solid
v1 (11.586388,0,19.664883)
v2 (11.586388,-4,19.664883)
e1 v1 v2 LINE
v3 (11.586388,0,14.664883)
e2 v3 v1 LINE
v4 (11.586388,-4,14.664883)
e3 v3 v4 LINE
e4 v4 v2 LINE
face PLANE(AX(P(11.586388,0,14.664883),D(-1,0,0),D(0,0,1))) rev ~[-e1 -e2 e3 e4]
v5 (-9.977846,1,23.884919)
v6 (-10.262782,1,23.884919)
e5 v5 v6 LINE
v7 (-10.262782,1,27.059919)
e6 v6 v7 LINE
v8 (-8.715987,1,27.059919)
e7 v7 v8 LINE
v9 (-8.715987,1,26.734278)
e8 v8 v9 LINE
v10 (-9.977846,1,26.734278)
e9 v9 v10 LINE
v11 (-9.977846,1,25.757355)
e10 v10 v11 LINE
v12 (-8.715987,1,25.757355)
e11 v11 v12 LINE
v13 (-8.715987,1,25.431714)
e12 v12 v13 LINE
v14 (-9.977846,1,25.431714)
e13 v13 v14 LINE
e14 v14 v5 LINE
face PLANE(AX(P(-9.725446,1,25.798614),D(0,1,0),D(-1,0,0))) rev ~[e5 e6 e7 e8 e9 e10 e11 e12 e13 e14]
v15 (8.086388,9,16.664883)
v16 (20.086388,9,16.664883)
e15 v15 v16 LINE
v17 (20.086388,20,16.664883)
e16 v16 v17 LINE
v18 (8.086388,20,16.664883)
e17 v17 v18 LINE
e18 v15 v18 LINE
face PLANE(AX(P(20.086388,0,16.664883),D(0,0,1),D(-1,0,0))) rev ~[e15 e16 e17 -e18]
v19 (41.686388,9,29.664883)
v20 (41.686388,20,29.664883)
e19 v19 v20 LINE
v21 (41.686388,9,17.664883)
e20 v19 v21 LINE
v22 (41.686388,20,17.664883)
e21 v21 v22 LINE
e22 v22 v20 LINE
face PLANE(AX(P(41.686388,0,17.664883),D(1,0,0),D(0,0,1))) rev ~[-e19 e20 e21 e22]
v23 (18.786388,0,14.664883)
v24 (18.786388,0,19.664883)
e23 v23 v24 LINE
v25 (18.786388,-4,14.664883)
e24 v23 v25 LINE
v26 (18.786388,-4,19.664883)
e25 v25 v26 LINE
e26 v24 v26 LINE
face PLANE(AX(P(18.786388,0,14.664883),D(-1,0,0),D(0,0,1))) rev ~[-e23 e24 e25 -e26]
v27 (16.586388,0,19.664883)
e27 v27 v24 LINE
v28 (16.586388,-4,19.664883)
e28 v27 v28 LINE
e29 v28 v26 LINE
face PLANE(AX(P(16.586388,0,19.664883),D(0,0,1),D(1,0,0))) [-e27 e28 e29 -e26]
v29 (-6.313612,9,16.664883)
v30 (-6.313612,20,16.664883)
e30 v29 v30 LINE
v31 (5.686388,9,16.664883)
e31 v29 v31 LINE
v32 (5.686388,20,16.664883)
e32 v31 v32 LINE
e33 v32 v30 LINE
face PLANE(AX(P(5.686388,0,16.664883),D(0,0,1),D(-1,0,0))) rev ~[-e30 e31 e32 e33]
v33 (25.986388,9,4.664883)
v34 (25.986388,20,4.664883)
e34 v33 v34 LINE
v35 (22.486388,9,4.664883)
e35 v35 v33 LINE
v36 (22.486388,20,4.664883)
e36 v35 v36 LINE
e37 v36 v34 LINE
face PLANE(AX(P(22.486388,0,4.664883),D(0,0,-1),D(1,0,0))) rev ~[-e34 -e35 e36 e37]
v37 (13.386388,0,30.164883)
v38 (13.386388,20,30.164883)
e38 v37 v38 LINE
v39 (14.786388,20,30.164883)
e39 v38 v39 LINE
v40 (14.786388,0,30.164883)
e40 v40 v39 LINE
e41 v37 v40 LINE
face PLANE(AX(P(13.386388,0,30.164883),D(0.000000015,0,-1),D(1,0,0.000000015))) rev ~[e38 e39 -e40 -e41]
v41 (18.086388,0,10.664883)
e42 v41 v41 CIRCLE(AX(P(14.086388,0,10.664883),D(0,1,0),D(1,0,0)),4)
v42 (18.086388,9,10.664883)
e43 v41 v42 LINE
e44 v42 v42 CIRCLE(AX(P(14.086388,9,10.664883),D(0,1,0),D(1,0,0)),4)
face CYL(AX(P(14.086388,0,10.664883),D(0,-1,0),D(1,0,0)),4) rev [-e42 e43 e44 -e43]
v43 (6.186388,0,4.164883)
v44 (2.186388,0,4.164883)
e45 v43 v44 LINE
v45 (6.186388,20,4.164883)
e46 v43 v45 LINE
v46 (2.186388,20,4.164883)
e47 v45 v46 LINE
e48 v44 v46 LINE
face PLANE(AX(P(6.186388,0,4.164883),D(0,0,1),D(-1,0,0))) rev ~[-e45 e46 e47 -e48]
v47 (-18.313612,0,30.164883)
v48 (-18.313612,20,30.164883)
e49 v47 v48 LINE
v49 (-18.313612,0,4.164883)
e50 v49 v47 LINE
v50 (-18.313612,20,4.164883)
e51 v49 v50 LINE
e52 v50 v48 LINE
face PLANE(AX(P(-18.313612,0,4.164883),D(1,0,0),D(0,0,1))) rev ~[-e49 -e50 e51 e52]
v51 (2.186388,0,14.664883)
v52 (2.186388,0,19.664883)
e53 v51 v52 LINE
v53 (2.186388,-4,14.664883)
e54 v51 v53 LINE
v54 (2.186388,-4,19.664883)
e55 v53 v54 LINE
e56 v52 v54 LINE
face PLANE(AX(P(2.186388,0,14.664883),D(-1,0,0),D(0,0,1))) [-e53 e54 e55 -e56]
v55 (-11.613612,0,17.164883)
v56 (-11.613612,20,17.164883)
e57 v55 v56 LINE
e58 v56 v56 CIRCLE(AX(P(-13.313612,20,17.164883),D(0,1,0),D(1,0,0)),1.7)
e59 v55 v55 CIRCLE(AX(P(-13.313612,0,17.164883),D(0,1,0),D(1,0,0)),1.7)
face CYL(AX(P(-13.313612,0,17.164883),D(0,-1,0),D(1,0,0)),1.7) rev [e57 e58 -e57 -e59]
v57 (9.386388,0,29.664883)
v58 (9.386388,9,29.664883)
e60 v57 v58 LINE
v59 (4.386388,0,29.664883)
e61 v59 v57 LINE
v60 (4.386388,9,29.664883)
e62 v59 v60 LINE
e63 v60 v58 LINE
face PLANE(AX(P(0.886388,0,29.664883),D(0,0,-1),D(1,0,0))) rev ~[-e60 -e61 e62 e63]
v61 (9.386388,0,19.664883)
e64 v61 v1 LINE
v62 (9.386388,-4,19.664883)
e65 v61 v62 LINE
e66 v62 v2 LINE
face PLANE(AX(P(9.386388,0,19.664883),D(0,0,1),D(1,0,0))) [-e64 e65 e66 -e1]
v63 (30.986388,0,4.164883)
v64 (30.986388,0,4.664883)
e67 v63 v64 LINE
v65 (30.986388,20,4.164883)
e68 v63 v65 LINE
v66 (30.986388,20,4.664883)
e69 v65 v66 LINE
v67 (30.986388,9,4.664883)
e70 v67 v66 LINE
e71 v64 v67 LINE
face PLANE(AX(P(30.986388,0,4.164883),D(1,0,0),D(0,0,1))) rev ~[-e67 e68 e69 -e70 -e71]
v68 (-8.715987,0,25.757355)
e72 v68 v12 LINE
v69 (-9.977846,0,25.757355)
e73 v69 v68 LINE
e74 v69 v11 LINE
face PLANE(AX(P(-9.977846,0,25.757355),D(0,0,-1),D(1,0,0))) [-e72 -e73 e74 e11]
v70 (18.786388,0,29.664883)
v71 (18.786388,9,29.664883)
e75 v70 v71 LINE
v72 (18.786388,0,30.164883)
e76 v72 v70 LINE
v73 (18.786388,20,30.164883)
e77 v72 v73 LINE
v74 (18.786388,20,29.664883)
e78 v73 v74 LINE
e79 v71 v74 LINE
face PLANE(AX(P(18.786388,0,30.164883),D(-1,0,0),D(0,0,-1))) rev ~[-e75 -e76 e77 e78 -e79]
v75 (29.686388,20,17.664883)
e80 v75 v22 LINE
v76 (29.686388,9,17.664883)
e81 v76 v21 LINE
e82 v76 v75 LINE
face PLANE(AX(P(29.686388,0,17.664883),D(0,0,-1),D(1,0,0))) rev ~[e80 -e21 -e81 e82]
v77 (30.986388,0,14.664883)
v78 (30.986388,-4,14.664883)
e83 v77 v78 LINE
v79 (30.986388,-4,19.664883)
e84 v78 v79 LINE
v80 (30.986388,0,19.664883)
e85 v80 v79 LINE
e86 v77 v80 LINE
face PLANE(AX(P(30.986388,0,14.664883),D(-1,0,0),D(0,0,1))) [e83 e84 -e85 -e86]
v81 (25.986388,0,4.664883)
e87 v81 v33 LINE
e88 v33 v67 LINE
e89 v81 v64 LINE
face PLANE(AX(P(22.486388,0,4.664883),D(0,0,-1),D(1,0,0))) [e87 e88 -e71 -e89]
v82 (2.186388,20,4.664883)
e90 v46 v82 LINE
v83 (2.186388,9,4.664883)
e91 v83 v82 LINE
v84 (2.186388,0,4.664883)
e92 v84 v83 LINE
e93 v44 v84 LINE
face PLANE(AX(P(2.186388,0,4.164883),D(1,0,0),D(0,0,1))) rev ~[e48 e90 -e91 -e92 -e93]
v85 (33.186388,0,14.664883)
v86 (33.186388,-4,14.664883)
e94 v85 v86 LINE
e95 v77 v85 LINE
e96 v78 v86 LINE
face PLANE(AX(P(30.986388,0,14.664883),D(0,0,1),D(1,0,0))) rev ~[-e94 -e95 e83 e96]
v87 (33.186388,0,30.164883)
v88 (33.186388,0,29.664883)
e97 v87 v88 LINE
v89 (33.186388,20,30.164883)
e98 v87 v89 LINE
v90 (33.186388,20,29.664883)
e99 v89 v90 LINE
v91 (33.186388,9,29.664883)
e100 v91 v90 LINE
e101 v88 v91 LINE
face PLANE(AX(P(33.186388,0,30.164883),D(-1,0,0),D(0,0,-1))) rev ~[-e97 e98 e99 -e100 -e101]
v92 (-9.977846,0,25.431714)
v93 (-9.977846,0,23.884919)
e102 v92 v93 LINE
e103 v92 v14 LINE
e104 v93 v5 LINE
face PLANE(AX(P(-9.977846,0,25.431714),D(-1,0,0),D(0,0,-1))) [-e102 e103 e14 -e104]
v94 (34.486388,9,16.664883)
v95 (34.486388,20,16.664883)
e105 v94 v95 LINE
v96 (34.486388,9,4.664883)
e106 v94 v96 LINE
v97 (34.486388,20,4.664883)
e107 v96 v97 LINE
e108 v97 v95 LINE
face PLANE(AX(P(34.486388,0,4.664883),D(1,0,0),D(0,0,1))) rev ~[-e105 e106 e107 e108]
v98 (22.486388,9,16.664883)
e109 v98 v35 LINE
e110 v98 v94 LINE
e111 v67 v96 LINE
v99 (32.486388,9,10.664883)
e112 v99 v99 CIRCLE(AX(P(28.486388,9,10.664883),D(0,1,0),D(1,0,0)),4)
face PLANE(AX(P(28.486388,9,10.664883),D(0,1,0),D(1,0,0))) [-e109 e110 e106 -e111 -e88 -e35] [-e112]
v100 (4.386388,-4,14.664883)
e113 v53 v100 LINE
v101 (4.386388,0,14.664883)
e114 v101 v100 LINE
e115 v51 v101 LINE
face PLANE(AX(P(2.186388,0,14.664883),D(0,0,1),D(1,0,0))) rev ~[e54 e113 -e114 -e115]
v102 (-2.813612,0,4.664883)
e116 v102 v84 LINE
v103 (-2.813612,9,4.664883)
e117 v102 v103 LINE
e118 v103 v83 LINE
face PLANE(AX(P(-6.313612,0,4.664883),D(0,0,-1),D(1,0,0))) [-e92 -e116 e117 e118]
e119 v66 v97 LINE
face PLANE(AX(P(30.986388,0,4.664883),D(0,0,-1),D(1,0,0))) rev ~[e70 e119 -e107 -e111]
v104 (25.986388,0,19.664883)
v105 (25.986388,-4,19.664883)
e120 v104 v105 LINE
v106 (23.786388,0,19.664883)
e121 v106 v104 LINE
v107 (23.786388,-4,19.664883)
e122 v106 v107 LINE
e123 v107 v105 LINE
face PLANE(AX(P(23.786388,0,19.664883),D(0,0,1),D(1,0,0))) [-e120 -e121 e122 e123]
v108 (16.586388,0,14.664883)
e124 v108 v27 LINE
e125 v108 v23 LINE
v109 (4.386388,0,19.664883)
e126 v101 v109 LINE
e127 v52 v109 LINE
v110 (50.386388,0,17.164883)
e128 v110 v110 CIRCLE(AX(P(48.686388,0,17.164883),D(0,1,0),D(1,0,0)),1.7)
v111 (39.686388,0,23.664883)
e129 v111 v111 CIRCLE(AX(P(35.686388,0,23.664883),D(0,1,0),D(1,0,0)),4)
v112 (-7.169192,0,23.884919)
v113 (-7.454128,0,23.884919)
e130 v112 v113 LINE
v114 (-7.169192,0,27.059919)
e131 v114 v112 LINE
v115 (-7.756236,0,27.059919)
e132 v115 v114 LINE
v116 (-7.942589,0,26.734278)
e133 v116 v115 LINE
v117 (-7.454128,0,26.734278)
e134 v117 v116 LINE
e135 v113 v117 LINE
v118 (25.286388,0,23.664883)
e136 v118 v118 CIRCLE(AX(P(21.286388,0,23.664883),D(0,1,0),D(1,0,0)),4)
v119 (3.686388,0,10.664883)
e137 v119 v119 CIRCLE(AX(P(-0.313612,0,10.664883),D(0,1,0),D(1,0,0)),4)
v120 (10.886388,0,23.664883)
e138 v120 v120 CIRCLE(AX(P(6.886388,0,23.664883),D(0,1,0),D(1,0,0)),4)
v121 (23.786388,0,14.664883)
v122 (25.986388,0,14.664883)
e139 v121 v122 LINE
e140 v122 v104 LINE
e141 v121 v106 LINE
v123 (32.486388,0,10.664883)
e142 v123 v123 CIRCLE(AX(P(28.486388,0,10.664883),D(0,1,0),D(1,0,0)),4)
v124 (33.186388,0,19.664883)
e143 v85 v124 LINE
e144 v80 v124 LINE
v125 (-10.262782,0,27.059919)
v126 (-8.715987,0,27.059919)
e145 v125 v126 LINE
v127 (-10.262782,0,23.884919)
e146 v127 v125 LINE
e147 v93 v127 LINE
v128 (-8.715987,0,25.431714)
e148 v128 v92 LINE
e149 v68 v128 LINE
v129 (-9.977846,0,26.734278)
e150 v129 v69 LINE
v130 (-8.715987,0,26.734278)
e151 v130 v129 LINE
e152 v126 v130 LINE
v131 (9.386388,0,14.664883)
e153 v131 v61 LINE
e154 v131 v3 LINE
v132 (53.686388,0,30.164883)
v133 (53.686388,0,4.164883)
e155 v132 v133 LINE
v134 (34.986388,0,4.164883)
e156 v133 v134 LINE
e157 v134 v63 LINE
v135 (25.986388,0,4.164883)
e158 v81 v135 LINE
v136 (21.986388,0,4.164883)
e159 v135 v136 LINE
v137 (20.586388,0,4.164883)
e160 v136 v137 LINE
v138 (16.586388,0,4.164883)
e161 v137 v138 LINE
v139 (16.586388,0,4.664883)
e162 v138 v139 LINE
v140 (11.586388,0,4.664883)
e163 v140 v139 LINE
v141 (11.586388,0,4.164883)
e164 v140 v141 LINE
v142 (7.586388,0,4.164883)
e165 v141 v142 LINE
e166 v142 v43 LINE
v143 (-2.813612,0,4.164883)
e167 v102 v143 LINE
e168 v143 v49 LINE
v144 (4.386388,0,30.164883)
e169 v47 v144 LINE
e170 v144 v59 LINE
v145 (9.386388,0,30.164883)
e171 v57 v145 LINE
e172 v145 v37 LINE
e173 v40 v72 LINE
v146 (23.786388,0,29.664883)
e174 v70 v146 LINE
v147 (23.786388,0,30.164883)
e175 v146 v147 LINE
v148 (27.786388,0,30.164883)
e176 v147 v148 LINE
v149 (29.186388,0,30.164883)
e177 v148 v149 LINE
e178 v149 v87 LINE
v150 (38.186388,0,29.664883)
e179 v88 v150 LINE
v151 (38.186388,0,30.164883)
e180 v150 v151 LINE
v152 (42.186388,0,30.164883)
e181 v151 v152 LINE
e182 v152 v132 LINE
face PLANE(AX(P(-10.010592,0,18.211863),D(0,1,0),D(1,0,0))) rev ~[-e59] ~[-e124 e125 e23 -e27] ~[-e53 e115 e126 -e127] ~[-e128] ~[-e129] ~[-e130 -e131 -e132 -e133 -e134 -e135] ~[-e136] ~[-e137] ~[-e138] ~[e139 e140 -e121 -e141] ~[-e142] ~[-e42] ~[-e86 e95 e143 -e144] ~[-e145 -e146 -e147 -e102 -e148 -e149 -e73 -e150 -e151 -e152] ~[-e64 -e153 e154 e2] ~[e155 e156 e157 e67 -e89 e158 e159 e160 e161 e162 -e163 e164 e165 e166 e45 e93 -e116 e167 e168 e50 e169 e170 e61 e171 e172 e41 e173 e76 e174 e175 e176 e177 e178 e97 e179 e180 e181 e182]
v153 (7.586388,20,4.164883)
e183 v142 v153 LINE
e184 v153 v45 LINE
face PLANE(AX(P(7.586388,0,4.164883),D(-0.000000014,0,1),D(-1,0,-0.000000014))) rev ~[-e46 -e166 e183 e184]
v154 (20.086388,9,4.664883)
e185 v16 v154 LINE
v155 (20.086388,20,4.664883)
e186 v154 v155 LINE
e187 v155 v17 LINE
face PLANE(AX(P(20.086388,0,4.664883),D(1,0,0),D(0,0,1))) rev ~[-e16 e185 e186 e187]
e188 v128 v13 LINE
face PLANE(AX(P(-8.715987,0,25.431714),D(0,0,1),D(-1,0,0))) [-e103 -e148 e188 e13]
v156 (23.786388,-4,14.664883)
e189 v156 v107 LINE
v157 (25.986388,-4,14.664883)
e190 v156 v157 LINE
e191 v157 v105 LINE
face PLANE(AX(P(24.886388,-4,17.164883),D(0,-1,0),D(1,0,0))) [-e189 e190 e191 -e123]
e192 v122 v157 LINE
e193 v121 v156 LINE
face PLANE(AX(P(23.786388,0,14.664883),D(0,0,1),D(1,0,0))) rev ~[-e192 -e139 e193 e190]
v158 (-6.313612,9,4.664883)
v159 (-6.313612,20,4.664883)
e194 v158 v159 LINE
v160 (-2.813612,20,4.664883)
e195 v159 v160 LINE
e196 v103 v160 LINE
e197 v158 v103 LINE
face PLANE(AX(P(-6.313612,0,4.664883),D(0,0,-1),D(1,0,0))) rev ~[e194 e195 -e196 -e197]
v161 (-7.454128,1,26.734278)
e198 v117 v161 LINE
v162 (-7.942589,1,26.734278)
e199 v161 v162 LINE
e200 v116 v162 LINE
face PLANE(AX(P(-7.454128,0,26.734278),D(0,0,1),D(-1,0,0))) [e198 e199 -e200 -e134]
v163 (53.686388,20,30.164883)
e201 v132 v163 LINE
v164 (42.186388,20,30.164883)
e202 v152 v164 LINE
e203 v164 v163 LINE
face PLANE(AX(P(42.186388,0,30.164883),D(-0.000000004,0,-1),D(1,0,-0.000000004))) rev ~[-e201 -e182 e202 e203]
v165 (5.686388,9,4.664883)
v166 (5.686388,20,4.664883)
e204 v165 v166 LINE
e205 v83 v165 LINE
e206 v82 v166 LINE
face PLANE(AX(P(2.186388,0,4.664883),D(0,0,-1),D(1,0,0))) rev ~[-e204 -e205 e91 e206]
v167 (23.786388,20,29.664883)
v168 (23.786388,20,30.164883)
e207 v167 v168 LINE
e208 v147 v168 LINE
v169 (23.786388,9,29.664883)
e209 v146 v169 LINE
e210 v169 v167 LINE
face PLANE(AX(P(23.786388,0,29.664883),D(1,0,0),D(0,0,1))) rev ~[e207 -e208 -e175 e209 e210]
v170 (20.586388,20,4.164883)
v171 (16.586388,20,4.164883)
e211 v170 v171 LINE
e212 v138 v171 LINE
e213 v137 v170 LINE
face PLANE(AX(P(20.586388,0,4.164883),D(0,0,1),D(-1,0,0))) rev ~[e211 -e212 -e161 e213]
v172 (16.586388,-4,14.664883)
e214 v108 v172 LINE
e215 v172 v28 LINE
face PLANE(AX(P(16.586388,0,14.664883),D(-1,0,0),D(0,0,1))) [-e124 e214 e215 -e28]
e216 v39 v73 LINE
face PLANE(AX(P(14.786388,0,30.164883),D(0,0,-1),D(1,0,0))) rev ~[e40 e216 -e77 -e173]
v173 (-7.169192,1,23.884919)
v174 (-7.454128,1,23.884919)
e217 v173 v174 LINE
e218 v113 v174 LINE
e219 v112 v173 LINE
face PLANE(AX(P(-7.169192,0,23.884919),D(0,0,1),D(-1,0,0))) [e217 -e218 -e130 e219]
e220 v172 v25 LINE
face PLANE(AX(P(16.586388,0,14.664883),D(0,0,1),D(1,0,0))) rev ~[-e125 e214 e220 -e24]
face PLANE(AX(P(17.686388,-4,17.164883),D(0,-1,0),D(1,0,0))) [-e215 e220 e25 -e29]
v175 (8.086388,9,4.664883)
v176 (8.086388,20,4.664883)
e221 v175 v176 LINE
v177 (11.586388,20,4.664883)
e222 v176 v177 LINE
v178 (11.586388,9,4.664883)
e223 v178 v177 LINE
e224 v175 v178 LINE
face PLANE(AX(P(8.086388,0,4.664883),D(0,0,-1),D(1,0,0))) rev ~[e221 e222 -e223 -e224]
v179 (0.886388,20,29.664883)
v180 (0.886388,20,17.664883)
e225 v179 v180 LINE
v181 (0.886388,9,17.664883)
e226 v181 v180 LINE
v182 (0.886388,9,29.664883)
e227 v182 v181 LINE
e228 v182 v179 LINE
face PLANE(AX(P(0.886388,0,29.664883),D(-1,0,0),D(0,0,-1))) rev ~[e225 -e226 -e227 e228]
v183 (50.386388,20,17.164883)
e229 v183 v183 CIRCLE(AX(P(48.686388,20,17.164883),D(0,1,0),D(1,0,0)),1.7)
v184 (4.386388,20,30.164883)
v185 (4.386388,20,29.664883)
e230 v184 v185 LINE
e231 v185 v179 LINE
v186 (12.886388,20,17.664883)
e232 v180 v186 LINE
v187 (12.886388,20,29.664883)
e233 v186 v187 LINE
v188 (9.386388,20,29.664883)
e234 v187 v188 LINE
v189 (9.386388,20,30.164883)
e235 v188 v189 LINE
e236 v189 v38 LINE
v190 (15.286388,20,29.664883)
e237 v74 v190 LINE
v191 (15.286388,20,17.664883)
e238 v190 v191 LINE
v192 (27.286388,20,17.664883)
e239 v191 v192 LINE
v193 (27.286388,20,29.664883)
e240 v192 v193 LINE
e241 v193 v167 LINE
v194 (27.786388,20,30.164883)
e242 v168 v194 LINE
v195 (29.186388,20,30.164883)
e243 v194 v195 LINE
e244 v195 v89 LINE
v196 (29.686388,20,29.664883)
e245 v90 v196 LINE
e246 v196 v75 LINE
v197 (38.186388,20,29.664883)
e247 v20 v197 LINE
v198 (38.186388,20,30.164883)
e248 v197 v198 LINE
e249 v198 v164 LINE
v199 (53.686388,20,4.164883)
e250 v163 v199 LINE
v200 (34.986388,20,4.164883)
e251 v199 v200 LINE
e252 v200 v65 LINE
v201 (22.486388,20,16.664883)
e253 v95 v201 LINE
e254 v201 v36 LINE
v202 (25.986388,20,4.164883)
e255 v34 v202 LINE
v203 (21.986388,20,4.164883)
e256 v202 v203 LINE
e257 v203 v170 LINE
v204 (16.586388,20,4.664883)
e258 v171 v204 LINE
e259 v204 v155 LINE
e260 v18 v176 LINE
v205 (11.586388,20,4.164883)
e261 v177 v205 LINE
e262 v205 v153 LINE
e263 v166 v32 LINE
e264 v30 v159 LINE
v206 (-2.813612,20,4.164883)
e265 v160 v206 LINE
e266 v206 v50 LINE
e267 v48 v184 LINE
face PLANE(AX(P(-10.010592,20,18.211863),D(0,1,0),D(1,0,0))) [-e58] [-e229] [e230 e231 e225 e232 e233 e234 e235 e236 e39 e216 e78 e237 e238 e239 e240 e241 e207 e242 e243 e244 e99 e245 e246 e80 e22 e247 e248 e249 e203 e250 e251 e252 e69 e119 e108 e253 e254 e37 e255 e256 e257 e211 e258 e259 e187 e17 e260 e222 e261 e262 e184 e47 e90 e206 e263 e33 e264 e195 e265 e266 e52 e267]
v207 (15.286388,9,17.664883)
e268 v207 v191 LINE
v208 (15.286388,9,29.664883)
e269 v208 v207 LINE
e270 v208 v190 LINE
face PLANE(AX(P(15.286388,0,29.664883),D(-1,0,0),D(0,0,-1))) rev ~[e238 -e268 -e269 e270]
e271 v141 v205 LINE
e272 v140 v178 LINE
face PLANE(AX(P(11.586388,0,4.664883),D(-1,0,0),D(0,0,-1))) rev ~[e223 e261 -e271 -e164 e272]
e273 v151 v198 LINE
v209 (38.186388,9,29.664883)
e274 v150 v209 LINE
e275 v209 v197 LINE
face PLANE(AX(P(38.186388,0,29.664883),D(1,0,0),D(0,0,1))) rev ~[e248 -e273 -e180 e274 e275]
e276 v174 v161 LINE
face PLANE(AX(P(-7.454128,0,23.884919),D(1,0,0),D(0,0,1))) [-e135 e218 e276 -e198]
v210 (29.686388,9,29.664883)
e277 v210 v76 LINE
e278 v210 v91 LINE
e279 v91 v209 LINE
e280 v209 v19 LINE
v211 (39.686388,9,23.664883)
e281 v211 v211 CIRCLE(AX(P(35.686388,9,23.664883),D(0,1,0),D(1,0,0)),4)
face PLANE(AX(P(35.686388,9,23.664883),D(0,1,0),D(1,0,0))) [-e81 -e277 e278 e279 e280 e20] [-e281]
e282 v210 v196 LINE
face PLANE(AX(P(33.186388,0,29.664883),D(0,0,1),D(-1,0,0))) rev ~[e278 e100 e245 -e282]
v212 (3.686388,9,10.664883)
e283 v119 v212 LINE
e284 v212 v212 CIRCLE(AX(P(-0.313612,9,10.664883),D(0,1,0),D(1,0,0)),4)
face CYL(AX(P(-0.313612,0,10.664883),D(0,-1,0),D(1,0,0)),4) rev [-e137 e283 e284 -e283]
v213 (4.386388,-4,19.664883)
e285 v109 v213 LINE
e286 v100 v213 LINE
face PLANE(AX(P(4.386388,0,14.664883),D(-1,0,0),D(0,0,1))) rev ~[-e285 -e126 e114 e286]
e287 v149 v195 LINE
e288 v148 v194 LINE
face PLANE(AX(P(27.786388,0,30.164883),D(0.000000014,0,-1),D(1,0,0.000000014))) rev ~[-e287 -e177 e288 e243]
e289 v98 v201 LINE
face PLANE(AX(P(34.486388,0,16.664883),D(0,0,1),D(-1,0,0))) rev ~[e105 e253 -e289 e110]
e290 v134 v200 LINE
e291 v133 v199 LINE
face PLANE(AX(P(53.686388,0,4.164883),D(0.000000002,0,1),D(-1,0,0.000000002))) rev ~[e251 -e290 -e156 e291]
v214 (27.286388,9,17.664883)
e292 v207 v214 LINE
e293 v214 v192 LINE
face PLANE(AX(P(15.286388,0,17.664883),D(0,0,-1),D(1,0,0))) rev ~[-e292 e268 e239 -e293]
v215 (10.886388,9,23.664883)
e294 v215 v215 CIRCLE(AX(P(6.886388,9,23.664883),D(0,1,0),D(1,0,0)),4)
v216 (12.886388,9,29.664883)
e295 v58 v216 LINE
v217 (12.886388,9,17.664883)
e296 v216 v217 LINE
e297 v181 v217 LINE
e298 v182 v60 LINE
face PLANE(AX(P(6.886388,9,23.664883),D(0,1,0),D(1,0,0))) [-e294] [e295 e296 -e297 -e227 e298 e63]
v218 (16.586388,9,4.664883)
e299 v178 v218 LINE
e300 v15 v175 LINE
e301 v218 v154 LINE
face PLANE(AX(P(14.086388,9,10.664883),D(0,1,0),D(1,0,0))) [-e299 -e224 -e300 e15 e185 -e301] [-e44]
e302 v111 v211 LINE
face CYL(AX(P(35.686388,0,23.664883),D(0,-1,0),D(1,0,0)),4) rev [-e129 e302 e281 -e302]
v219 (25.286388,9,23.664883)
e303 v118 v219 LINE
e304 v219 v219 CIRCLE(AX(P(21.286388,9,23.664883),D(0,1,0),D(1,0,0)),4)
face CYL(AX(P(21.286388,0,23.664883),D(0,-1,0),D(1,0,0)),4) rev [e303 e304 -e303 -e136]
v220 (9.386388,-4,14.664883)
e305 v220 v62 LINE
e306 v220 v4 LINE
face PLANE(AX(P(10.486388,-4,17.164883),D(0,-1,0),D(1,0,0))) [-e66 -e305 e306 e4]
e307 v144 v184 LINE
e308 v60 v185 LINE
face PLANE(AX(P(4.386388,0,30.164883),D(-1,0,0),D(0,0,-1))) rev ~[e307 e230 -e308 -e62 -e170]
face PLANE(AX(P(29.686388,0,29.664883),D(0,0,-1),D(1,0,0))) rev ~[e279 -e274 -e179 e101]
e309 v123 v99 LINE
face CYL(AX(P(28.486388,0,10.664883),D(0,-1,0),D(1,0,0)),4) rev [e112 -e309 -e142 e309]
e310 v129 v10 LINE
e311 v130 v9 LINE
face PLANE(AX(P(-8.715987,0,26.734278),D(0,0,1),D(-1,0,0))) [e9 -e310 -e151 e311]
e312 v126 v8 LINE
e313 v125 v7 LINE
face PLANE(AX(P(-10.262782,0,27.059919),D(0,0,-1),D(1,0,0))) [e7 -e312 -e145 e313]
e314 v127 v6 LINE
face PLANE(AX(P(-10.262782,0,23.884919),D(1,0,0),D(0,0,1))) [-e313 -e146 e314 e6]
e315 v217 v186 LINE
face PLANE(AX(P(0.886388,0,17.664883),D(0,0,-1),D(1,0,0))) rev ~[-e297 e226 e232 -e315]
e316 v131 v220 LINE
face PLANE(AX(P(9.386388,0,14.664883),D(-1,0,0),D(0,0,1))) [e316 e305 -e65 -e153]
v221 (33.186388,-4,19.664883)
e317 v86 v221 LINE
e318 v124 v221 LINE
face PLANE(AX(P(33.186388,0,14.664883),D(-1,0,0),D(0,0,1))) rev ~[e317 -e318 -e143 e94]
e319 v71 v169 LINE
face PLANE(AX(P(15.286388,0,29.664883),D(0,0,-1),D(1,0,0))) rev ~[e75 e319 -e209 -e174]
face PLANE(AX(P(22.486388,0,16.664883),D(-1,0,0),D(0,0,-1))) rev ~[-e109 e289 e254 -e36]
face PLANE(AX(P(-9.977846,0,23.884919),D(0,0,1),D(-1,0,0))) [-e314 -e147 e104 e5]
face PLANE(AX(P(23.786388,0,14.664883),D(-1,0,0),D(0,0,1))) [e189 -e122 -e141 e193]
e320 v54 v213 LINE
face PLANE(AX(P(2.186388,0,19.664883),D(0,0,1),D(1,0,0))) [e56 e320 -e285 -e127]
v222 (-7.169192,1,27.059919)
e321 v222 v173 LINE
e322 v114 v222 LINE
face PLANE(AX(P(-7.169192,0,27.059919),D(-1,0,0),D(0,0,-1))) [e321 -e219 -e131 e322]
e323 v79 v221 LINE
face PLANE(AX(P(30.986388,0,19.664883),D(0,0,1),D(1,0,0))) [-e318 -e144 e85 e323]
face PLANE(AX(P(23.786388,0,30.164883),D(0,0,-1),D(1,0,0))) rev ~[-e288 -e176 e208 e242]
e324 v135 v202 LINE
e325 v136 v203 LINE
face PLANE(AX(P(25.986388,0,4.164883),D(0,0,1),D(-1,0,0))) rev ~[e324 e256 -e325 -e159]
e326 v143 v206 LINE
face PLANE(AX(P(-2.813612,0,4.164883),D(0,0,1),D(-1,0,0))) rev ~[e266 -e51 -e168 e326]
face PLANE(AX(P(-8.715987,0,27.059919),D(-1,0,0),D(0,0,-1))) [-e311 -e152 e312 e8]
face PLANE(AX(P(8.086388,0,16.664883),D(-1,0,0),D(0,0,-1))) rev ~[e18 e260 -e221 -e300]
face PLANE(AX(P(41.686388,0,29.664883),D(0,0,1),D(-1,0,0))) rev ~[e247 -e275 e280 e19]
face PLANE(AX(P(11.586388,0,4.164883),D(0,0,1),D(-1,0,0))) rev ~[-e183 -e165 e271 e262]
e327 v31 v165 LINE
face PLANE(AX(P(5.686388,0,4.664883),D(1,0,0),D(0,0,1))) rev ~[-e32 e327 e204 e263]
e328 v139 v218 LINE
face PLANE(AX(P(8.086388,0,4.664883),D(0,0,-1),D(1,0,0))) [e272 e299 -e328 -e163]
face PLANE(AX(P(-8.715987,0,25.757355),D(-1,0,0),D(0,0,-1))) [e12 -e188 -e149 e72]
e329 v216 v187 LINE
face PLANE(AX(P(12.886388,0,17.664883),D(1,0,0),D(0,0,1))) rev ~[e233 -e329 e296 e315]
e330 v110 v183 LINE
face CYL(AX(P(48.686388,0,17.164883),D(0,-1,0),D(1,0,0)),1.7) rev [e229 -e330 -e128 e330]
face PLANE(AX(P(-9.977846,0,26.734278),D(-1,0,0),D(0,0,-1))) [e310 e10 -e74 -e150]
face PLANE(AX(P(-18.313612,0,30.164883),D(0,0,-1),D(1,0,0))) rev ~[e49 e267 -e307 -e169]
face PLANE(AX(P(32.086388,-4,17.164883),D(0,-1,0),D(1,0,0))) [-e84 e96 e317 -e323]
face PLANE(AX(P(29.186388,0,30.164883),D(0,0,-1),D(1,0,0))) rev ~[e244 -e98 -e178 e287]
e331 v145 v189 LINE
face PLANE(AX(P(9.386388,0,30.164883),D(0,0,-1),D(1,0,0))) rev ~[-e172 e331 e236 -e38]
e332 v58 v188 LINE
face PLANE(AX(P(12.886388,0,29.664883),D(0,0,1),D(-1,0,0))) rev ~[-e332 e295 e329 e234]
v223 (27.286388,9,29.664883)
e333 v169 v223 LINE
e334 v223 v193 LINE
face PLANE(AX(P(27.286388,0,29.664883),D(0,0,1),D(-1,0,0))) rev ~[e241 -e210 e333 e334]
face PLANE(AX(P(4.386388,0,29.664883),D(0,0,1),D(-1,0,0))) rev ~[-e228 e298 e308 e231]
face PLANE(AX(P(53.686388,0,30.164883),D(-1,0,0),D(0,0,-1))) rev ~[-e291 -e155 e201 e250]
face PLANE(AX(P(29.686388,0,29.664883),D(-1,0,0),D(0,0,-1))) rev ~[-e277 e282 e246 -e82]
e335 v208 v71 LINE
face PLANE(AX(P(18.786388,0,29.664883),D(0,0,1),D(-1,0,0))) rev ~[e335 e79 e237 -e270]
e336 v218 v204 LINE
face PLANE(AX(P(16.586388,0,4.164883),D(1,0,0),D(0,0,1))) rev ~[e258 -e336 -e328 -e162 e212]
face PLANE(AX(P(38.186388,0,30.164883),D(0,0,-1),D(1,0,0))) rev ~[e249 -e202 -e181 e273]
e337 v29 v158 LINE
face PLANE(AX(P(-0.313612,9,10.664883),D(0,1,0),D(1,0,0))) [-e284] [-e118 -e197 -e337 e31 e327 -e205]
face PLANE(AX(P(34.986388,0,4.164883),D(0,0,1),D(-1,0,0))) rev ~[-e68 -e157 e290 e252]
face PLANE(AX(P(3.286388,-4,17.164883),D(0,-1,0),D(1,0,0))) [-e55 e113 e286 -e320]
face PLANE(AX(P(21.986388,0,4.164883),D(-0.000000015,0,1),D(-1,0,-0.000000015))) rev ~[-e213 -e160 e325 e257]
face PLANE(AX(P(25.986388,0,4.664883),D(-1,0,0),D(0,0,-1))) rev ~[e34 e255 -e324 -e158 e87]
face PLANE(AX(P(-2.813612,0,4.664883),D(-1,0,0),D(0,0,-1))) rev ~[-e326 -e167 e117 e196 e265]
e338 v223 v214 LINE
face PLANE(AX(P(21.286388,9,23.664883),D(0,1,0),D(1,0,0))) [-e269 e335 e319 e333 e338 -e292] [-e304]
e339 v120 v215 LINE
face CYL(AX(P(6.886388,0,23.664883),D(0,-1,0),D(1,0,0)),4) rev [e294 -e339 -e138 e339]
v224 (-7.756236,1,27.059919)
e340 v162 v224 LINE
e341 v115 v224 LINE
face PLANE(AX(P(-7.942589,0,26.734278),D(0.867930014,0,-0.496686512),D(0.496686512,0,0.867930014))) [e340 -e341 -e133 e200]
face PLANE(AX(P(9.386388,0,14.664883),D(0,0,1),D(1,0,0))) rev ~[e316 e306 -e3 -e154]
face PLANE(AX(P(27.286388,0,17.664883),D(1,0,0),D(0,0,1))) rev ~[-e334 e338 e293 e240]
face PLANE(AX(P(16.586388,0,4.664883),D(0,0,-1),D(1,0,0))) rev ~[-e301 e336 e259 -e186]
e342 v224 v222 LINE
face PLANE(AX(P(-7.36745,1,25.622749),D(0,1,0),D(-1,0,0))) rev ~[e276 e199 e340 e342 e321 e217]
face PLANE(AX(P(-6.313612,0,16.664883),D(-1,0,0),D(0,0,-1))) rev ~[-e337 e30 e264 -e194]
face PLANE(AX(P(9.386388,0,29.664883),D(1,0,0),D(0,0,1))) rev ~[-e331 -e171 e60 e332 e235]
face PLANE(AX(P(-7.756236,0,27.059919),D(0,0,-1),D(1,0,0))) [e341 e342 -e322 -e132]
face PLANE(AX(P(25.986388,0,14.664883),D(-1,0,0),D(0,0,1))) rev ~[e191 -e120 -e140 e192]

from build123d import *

# Parameters (mm, degrees)
SKETCH1_W             = 12
SKETCH1_H             = 12
SKETCH1_R             = 4
BOSS_EXTRUDE1_DEPTH   = 9
BOSS_EXTRUDE1_2_DEPTH = 9
BOSS_EXTRUDE1_3_DEPTH = 9
BOSS_EXTRUDE1_4_DEPTH = 9
BOSS_EXTRUDE1_5_DEPTH = 9
BOSS_EXTRUDE1_6_DEPTH = 9
SKETCH1_4_R           = 1.7
BOSS_EXTRUDE2_DEPTH   = 20
SKETCH2_W             = 2.2
SKETCH2_H             = 5.00000001
BOSS_EXTRUDE3_DEPTH   = 4
BOSS_EXTRUDE4_DEPTH   = 1
CUT_EXTRUDE1_DEPTH    = 1


with BuildPart() as part:
    # Sketch1 → Boss-Extrude1 (new body)
    with BuildSketch(Plane(origin=(0, 0, 0), x_dir=(1, 0, 0), z_dir=(0, 1, 0))):
        with Locations((-0.31361246, -10.664883002)):
            Rectangle(SKETCH1_W, SKETCH1_H)
        with Locations((-0.31361246, -10.664883002)):
            Circle(SKETCH1_R, mode=Mode.SUBTRACT)
    extrude(amount=BOSS_EXTRUDE1_DEPTH)



with BuildPart() as body_2:
    # Sketch1 → Boss-Extrude1 2 (new body)
    with BuildSketch(Plane(origin=(0, 0, 0), x_dir=(1, 0, 0), z_dir=(0, 1, 0))):
        with Locations((14.08638754, -10.664883022)):
            Rectangle(SKETCH1_W, SKETCH1_H)
        with Locations((14.08638754, -10.664883022)):
            Circle(SKETCH1_R, mode=Mode.SUBTRACT)
    extrude(amount=BOSS_EXTRUDE1_2_DEPTH)


with BuildPart() as body_3:
    # Sketch1 → Boss-Extrude1 3 (new body)
    with BuildSketch(Plane(origin=(0, 0, 0), x_dir=(1, 0, 0), z_dir=(0, 1, 0))):
        with Locations((6.88638754, -23.664883012)):
            Rectangle(SKETCH1_W, SKETCH1_H)
        with Locations((6.88638754, -23.664883012)):
            Circle(SKETCH1_R, mode=Mode.SUBTRACT)
    extrude(amount=BOSS_EXTRUDE1_3_DEPTH)


with BuildPart() as body_4:
    # Sketch1 → Boss-Extrude1 4 (new body)
    with BuildSketch(Plane(origin=(0, 0, 0), x_dir=(1, 0, 0), z_dir=(0, 1, 0))):
        with Locations((21.28638754, -23.664883033)):
            Rectangle(SKETCH1_W, SKETCH1_H)
        with Locations((21.28638754, -23.664883033)):
            Circle(SKETCH1_R, mode=Mode.SUBTRACT)
    extrude(amount=BOSS_EXTRUDE1_4_DEPTH)


with BuildPart() as body_5:
    # Sketch1 → Boss-Extrude1 5 (new body)
    with BuildSketch(Plane(origin=(0, 0, 0), x_dir=(1, 0, 0), z_dir=(0, 1, 0))):
        with Locations((28.48638754, -10.664883043)):
            Rectangle(SKETCH1_W, SKETCH1_H)
        with Locations((28.48638754, -10.664883043)):
            Circle(SKETCH1_R, mode=Mode.SUBTRACT)
    extrude(amount=BOSS_EXTRUDE1_5_DEPTH)


with BuildPart() as body_6:
    # Sketch1 → Boss-Extrude1 6 (new body)
    with BuildSketch(Plane(origin=(0, 0, 0), x_dir=(1, 0, 0), z_dir=(0, 1, 0))):
        with Locations((35.68638754, -23.664883053)):
            Rectangle(SKETCH1_W, SKETCH1_H)
        with Locations((35.68638754, -23.664883053)):
            Circle(SKETCH1_R, mode=Mode.SUBTRACT)
    extrude(amount=BOSS_EXTRUDE1_6_DEPTH)


with BuildPart() as part_1:
    add(part.part)

    add(body_2.part)  # Boss-Extrude2 merges body 2

    add(body_3.part)  # Boss-Extrude2 merges body 3

    add(body_4.part)  # Boss-Extrude2 merges body 4

    add(body_5.part)  # Boss-Extrude2 merges body 5

    add(body_6.part)  # Boss-Extrude2 merges body 6
    # Sketch1<4> → Boss-Extrude2 (add)
    with BuildSketch(Plane(origin=(0, 0, 0), x_dir=(1, 0, 0), z_dir=(0, 1, 0))):
        Polygon((7.58638754, -4.164883022), (6.18638754, -4.164883002), (2.18638754, -4.164883002), (2.18638754, -4.664883002), (5.68638754, -4.664883002), (5.68638754, -16.664883002), (-6.31361246, -16.664883002), (-6.31361246, -4.664883002), (-2.81361246, -4.664883002), (-2.81361246, -4.164883002), (-18.31361246, -4.164883002), (-18.31361246, -30.164883012), (4.38638754, -30.164883012), (4.38638754, -29.664883012), (0.88638754, -29.664883012), (0.88638754, -17.664883012), (12.88638754, -17.664883012), (12.88638754, -29.664883012), (9.38638754, -29.664883012), (9.38638754, -30.164883012), (13.38638754, -30.164883012), (14.78638754, -30.164883033), (18.78638754, -30.164883033), (18.78638754, -29.664883033), (15.28638754, -29.664883033), (15.28638754, -17.664883033), (27.28638754, -17.664883033), (27.28638754, -29.664883033), (23.78638754, -29.664883033), (23.78638754, -30.164883033), (27.78638754, -30.164883033), (29.18638754, -30.164883053), (33.18638754, -30.164883053), (33.18638754, -29.664883053), (29.68638754, -29.664883053), (29.68638754, -17.664883053), (41.68638754, -17.664883053), (41.68638754, -29.664883053), (38.18638754, -29.664883053), (38.18638754, -30.164883053), (42.18638754, -30.164883053), (53.68638754, -30.164883012), (53.68638754, -4.164883002), (34.98638754, -4.164883043), (30.98638754, -4.164883043), (30.98638754, -4.664883043), (34.48638754, -4.664883043), (34.48638754, -16.664883043), (22.48638754, -16.664883043), (22.48638754, -4.664883043), (25.98638754, -4.664883043), (25.98638754, -4.164883043), (21.98638754, -4.164883043), (20.58638754, -4.164883022), (16.58638754, -4.164883022), (16.58638754, -4.664883022), (20.08638754, -4.664883022), (20.08638754, -16.664883022), (8.08638754, -16.664883022), (8.08638754, -4.664883022), (11.58638754, -4.664883022), (11.58638754, -4.164883022), align=None)
        with Locations((-13.31361246, -17.164883007)):
            Circle(SKETCH1_4_R, mode=Mode.SUBTRACT)
        with Locations((48.68638754, -17.164883007)):
            Circle(SKETCH1_4_R, mode=Mode.SUBTRACT)
    extrude(amount=BOSS_EXTRUDE2_DEPTH)

    # Sketch2 → Boss-Extrude3 (add)
    with BuildSketch(Plane.XZ):
        with Locations((3.28638754, 17.164883007)):
            Rectangle(SKETCH2_W, SKETCH2_H)
        with Locations((10.48638754, 17.164883023)):
            Rectangle(SKETCH2_W, SKETCH2_H)
        with Locations((17.68638754, 17.164883038)):
            Rectangle(SKETCH2_W, SKETCH2_H)
        with Locations((24.88638754, 17.164883045)):
            Rectangle(SKETCH2_W, SKETCH2_H)
        with Locations((32.08638754, 17.164883007)):
            Rectangle(SKETCH2_W, SKETCH2_H)
    extrude(amount=BOSS_EXTRUDE3_DEPTH)

    # Sketch3 → Boss-Extrude4 (add)
    with BuildSketch(Plane.XZ):
        Polygon((-10.262781623, 27.059918831), (-8.715986751, 27.059918831), (-8.715986751, 26.734277806), (-9.977845725, 26.734277806), (-9.977845725, 25.757354729), (-8.715986751, 25.757354729), (-8.715986751, 25.431713703), (-9.977845725, 25.431713703), (-9.977845725, 23.884918831), (-10.262781623, 23.884918831), align=None)
        Polygon((-7.75623615, 27.059918831), (-7.169191879, 27.059918831), (-7.169191879, 23.884918831), (-7.454127777, 23.884918831), (-7.454127777, 26.734277806), (-7.942589315, 26.734277806), align=None)
    extrude(amount=-BOSS_EXTRUDE4_DEPTH)

    # Sketch3<2> → Cut-Extrude1 (cut)
    with BuildSketch(Plane.XZ):
        Polygon((-10.262781623, 27.059918831), (-8.715986751, 27.059918831), (-8.715986751, 26.734277806), (-9.977845725, 26.734277806), (-9.977845725, 25.757354729), (-8.715986751, 25.757354729), (-8.715986751, 25.431713703), (-9.977845725, 25.431713703), (-9.977845725, 23.884918831), (-10.262781623, 23.884918831), align=None)
        Polygon((-7.75623615, 27.059918831), (-7.169191879, 27.059918831), (-7.169191879, 23.884918831), (-7.454127777, 23.884918831), (-7.454127777, 26.734277806), (-7.942589315, 26.734277806), align=None)
    extrude(amount=-CUT_EXTRUDE1_DEPTH, mode=Mode.SUBTRACT)


solid = part_1.part
